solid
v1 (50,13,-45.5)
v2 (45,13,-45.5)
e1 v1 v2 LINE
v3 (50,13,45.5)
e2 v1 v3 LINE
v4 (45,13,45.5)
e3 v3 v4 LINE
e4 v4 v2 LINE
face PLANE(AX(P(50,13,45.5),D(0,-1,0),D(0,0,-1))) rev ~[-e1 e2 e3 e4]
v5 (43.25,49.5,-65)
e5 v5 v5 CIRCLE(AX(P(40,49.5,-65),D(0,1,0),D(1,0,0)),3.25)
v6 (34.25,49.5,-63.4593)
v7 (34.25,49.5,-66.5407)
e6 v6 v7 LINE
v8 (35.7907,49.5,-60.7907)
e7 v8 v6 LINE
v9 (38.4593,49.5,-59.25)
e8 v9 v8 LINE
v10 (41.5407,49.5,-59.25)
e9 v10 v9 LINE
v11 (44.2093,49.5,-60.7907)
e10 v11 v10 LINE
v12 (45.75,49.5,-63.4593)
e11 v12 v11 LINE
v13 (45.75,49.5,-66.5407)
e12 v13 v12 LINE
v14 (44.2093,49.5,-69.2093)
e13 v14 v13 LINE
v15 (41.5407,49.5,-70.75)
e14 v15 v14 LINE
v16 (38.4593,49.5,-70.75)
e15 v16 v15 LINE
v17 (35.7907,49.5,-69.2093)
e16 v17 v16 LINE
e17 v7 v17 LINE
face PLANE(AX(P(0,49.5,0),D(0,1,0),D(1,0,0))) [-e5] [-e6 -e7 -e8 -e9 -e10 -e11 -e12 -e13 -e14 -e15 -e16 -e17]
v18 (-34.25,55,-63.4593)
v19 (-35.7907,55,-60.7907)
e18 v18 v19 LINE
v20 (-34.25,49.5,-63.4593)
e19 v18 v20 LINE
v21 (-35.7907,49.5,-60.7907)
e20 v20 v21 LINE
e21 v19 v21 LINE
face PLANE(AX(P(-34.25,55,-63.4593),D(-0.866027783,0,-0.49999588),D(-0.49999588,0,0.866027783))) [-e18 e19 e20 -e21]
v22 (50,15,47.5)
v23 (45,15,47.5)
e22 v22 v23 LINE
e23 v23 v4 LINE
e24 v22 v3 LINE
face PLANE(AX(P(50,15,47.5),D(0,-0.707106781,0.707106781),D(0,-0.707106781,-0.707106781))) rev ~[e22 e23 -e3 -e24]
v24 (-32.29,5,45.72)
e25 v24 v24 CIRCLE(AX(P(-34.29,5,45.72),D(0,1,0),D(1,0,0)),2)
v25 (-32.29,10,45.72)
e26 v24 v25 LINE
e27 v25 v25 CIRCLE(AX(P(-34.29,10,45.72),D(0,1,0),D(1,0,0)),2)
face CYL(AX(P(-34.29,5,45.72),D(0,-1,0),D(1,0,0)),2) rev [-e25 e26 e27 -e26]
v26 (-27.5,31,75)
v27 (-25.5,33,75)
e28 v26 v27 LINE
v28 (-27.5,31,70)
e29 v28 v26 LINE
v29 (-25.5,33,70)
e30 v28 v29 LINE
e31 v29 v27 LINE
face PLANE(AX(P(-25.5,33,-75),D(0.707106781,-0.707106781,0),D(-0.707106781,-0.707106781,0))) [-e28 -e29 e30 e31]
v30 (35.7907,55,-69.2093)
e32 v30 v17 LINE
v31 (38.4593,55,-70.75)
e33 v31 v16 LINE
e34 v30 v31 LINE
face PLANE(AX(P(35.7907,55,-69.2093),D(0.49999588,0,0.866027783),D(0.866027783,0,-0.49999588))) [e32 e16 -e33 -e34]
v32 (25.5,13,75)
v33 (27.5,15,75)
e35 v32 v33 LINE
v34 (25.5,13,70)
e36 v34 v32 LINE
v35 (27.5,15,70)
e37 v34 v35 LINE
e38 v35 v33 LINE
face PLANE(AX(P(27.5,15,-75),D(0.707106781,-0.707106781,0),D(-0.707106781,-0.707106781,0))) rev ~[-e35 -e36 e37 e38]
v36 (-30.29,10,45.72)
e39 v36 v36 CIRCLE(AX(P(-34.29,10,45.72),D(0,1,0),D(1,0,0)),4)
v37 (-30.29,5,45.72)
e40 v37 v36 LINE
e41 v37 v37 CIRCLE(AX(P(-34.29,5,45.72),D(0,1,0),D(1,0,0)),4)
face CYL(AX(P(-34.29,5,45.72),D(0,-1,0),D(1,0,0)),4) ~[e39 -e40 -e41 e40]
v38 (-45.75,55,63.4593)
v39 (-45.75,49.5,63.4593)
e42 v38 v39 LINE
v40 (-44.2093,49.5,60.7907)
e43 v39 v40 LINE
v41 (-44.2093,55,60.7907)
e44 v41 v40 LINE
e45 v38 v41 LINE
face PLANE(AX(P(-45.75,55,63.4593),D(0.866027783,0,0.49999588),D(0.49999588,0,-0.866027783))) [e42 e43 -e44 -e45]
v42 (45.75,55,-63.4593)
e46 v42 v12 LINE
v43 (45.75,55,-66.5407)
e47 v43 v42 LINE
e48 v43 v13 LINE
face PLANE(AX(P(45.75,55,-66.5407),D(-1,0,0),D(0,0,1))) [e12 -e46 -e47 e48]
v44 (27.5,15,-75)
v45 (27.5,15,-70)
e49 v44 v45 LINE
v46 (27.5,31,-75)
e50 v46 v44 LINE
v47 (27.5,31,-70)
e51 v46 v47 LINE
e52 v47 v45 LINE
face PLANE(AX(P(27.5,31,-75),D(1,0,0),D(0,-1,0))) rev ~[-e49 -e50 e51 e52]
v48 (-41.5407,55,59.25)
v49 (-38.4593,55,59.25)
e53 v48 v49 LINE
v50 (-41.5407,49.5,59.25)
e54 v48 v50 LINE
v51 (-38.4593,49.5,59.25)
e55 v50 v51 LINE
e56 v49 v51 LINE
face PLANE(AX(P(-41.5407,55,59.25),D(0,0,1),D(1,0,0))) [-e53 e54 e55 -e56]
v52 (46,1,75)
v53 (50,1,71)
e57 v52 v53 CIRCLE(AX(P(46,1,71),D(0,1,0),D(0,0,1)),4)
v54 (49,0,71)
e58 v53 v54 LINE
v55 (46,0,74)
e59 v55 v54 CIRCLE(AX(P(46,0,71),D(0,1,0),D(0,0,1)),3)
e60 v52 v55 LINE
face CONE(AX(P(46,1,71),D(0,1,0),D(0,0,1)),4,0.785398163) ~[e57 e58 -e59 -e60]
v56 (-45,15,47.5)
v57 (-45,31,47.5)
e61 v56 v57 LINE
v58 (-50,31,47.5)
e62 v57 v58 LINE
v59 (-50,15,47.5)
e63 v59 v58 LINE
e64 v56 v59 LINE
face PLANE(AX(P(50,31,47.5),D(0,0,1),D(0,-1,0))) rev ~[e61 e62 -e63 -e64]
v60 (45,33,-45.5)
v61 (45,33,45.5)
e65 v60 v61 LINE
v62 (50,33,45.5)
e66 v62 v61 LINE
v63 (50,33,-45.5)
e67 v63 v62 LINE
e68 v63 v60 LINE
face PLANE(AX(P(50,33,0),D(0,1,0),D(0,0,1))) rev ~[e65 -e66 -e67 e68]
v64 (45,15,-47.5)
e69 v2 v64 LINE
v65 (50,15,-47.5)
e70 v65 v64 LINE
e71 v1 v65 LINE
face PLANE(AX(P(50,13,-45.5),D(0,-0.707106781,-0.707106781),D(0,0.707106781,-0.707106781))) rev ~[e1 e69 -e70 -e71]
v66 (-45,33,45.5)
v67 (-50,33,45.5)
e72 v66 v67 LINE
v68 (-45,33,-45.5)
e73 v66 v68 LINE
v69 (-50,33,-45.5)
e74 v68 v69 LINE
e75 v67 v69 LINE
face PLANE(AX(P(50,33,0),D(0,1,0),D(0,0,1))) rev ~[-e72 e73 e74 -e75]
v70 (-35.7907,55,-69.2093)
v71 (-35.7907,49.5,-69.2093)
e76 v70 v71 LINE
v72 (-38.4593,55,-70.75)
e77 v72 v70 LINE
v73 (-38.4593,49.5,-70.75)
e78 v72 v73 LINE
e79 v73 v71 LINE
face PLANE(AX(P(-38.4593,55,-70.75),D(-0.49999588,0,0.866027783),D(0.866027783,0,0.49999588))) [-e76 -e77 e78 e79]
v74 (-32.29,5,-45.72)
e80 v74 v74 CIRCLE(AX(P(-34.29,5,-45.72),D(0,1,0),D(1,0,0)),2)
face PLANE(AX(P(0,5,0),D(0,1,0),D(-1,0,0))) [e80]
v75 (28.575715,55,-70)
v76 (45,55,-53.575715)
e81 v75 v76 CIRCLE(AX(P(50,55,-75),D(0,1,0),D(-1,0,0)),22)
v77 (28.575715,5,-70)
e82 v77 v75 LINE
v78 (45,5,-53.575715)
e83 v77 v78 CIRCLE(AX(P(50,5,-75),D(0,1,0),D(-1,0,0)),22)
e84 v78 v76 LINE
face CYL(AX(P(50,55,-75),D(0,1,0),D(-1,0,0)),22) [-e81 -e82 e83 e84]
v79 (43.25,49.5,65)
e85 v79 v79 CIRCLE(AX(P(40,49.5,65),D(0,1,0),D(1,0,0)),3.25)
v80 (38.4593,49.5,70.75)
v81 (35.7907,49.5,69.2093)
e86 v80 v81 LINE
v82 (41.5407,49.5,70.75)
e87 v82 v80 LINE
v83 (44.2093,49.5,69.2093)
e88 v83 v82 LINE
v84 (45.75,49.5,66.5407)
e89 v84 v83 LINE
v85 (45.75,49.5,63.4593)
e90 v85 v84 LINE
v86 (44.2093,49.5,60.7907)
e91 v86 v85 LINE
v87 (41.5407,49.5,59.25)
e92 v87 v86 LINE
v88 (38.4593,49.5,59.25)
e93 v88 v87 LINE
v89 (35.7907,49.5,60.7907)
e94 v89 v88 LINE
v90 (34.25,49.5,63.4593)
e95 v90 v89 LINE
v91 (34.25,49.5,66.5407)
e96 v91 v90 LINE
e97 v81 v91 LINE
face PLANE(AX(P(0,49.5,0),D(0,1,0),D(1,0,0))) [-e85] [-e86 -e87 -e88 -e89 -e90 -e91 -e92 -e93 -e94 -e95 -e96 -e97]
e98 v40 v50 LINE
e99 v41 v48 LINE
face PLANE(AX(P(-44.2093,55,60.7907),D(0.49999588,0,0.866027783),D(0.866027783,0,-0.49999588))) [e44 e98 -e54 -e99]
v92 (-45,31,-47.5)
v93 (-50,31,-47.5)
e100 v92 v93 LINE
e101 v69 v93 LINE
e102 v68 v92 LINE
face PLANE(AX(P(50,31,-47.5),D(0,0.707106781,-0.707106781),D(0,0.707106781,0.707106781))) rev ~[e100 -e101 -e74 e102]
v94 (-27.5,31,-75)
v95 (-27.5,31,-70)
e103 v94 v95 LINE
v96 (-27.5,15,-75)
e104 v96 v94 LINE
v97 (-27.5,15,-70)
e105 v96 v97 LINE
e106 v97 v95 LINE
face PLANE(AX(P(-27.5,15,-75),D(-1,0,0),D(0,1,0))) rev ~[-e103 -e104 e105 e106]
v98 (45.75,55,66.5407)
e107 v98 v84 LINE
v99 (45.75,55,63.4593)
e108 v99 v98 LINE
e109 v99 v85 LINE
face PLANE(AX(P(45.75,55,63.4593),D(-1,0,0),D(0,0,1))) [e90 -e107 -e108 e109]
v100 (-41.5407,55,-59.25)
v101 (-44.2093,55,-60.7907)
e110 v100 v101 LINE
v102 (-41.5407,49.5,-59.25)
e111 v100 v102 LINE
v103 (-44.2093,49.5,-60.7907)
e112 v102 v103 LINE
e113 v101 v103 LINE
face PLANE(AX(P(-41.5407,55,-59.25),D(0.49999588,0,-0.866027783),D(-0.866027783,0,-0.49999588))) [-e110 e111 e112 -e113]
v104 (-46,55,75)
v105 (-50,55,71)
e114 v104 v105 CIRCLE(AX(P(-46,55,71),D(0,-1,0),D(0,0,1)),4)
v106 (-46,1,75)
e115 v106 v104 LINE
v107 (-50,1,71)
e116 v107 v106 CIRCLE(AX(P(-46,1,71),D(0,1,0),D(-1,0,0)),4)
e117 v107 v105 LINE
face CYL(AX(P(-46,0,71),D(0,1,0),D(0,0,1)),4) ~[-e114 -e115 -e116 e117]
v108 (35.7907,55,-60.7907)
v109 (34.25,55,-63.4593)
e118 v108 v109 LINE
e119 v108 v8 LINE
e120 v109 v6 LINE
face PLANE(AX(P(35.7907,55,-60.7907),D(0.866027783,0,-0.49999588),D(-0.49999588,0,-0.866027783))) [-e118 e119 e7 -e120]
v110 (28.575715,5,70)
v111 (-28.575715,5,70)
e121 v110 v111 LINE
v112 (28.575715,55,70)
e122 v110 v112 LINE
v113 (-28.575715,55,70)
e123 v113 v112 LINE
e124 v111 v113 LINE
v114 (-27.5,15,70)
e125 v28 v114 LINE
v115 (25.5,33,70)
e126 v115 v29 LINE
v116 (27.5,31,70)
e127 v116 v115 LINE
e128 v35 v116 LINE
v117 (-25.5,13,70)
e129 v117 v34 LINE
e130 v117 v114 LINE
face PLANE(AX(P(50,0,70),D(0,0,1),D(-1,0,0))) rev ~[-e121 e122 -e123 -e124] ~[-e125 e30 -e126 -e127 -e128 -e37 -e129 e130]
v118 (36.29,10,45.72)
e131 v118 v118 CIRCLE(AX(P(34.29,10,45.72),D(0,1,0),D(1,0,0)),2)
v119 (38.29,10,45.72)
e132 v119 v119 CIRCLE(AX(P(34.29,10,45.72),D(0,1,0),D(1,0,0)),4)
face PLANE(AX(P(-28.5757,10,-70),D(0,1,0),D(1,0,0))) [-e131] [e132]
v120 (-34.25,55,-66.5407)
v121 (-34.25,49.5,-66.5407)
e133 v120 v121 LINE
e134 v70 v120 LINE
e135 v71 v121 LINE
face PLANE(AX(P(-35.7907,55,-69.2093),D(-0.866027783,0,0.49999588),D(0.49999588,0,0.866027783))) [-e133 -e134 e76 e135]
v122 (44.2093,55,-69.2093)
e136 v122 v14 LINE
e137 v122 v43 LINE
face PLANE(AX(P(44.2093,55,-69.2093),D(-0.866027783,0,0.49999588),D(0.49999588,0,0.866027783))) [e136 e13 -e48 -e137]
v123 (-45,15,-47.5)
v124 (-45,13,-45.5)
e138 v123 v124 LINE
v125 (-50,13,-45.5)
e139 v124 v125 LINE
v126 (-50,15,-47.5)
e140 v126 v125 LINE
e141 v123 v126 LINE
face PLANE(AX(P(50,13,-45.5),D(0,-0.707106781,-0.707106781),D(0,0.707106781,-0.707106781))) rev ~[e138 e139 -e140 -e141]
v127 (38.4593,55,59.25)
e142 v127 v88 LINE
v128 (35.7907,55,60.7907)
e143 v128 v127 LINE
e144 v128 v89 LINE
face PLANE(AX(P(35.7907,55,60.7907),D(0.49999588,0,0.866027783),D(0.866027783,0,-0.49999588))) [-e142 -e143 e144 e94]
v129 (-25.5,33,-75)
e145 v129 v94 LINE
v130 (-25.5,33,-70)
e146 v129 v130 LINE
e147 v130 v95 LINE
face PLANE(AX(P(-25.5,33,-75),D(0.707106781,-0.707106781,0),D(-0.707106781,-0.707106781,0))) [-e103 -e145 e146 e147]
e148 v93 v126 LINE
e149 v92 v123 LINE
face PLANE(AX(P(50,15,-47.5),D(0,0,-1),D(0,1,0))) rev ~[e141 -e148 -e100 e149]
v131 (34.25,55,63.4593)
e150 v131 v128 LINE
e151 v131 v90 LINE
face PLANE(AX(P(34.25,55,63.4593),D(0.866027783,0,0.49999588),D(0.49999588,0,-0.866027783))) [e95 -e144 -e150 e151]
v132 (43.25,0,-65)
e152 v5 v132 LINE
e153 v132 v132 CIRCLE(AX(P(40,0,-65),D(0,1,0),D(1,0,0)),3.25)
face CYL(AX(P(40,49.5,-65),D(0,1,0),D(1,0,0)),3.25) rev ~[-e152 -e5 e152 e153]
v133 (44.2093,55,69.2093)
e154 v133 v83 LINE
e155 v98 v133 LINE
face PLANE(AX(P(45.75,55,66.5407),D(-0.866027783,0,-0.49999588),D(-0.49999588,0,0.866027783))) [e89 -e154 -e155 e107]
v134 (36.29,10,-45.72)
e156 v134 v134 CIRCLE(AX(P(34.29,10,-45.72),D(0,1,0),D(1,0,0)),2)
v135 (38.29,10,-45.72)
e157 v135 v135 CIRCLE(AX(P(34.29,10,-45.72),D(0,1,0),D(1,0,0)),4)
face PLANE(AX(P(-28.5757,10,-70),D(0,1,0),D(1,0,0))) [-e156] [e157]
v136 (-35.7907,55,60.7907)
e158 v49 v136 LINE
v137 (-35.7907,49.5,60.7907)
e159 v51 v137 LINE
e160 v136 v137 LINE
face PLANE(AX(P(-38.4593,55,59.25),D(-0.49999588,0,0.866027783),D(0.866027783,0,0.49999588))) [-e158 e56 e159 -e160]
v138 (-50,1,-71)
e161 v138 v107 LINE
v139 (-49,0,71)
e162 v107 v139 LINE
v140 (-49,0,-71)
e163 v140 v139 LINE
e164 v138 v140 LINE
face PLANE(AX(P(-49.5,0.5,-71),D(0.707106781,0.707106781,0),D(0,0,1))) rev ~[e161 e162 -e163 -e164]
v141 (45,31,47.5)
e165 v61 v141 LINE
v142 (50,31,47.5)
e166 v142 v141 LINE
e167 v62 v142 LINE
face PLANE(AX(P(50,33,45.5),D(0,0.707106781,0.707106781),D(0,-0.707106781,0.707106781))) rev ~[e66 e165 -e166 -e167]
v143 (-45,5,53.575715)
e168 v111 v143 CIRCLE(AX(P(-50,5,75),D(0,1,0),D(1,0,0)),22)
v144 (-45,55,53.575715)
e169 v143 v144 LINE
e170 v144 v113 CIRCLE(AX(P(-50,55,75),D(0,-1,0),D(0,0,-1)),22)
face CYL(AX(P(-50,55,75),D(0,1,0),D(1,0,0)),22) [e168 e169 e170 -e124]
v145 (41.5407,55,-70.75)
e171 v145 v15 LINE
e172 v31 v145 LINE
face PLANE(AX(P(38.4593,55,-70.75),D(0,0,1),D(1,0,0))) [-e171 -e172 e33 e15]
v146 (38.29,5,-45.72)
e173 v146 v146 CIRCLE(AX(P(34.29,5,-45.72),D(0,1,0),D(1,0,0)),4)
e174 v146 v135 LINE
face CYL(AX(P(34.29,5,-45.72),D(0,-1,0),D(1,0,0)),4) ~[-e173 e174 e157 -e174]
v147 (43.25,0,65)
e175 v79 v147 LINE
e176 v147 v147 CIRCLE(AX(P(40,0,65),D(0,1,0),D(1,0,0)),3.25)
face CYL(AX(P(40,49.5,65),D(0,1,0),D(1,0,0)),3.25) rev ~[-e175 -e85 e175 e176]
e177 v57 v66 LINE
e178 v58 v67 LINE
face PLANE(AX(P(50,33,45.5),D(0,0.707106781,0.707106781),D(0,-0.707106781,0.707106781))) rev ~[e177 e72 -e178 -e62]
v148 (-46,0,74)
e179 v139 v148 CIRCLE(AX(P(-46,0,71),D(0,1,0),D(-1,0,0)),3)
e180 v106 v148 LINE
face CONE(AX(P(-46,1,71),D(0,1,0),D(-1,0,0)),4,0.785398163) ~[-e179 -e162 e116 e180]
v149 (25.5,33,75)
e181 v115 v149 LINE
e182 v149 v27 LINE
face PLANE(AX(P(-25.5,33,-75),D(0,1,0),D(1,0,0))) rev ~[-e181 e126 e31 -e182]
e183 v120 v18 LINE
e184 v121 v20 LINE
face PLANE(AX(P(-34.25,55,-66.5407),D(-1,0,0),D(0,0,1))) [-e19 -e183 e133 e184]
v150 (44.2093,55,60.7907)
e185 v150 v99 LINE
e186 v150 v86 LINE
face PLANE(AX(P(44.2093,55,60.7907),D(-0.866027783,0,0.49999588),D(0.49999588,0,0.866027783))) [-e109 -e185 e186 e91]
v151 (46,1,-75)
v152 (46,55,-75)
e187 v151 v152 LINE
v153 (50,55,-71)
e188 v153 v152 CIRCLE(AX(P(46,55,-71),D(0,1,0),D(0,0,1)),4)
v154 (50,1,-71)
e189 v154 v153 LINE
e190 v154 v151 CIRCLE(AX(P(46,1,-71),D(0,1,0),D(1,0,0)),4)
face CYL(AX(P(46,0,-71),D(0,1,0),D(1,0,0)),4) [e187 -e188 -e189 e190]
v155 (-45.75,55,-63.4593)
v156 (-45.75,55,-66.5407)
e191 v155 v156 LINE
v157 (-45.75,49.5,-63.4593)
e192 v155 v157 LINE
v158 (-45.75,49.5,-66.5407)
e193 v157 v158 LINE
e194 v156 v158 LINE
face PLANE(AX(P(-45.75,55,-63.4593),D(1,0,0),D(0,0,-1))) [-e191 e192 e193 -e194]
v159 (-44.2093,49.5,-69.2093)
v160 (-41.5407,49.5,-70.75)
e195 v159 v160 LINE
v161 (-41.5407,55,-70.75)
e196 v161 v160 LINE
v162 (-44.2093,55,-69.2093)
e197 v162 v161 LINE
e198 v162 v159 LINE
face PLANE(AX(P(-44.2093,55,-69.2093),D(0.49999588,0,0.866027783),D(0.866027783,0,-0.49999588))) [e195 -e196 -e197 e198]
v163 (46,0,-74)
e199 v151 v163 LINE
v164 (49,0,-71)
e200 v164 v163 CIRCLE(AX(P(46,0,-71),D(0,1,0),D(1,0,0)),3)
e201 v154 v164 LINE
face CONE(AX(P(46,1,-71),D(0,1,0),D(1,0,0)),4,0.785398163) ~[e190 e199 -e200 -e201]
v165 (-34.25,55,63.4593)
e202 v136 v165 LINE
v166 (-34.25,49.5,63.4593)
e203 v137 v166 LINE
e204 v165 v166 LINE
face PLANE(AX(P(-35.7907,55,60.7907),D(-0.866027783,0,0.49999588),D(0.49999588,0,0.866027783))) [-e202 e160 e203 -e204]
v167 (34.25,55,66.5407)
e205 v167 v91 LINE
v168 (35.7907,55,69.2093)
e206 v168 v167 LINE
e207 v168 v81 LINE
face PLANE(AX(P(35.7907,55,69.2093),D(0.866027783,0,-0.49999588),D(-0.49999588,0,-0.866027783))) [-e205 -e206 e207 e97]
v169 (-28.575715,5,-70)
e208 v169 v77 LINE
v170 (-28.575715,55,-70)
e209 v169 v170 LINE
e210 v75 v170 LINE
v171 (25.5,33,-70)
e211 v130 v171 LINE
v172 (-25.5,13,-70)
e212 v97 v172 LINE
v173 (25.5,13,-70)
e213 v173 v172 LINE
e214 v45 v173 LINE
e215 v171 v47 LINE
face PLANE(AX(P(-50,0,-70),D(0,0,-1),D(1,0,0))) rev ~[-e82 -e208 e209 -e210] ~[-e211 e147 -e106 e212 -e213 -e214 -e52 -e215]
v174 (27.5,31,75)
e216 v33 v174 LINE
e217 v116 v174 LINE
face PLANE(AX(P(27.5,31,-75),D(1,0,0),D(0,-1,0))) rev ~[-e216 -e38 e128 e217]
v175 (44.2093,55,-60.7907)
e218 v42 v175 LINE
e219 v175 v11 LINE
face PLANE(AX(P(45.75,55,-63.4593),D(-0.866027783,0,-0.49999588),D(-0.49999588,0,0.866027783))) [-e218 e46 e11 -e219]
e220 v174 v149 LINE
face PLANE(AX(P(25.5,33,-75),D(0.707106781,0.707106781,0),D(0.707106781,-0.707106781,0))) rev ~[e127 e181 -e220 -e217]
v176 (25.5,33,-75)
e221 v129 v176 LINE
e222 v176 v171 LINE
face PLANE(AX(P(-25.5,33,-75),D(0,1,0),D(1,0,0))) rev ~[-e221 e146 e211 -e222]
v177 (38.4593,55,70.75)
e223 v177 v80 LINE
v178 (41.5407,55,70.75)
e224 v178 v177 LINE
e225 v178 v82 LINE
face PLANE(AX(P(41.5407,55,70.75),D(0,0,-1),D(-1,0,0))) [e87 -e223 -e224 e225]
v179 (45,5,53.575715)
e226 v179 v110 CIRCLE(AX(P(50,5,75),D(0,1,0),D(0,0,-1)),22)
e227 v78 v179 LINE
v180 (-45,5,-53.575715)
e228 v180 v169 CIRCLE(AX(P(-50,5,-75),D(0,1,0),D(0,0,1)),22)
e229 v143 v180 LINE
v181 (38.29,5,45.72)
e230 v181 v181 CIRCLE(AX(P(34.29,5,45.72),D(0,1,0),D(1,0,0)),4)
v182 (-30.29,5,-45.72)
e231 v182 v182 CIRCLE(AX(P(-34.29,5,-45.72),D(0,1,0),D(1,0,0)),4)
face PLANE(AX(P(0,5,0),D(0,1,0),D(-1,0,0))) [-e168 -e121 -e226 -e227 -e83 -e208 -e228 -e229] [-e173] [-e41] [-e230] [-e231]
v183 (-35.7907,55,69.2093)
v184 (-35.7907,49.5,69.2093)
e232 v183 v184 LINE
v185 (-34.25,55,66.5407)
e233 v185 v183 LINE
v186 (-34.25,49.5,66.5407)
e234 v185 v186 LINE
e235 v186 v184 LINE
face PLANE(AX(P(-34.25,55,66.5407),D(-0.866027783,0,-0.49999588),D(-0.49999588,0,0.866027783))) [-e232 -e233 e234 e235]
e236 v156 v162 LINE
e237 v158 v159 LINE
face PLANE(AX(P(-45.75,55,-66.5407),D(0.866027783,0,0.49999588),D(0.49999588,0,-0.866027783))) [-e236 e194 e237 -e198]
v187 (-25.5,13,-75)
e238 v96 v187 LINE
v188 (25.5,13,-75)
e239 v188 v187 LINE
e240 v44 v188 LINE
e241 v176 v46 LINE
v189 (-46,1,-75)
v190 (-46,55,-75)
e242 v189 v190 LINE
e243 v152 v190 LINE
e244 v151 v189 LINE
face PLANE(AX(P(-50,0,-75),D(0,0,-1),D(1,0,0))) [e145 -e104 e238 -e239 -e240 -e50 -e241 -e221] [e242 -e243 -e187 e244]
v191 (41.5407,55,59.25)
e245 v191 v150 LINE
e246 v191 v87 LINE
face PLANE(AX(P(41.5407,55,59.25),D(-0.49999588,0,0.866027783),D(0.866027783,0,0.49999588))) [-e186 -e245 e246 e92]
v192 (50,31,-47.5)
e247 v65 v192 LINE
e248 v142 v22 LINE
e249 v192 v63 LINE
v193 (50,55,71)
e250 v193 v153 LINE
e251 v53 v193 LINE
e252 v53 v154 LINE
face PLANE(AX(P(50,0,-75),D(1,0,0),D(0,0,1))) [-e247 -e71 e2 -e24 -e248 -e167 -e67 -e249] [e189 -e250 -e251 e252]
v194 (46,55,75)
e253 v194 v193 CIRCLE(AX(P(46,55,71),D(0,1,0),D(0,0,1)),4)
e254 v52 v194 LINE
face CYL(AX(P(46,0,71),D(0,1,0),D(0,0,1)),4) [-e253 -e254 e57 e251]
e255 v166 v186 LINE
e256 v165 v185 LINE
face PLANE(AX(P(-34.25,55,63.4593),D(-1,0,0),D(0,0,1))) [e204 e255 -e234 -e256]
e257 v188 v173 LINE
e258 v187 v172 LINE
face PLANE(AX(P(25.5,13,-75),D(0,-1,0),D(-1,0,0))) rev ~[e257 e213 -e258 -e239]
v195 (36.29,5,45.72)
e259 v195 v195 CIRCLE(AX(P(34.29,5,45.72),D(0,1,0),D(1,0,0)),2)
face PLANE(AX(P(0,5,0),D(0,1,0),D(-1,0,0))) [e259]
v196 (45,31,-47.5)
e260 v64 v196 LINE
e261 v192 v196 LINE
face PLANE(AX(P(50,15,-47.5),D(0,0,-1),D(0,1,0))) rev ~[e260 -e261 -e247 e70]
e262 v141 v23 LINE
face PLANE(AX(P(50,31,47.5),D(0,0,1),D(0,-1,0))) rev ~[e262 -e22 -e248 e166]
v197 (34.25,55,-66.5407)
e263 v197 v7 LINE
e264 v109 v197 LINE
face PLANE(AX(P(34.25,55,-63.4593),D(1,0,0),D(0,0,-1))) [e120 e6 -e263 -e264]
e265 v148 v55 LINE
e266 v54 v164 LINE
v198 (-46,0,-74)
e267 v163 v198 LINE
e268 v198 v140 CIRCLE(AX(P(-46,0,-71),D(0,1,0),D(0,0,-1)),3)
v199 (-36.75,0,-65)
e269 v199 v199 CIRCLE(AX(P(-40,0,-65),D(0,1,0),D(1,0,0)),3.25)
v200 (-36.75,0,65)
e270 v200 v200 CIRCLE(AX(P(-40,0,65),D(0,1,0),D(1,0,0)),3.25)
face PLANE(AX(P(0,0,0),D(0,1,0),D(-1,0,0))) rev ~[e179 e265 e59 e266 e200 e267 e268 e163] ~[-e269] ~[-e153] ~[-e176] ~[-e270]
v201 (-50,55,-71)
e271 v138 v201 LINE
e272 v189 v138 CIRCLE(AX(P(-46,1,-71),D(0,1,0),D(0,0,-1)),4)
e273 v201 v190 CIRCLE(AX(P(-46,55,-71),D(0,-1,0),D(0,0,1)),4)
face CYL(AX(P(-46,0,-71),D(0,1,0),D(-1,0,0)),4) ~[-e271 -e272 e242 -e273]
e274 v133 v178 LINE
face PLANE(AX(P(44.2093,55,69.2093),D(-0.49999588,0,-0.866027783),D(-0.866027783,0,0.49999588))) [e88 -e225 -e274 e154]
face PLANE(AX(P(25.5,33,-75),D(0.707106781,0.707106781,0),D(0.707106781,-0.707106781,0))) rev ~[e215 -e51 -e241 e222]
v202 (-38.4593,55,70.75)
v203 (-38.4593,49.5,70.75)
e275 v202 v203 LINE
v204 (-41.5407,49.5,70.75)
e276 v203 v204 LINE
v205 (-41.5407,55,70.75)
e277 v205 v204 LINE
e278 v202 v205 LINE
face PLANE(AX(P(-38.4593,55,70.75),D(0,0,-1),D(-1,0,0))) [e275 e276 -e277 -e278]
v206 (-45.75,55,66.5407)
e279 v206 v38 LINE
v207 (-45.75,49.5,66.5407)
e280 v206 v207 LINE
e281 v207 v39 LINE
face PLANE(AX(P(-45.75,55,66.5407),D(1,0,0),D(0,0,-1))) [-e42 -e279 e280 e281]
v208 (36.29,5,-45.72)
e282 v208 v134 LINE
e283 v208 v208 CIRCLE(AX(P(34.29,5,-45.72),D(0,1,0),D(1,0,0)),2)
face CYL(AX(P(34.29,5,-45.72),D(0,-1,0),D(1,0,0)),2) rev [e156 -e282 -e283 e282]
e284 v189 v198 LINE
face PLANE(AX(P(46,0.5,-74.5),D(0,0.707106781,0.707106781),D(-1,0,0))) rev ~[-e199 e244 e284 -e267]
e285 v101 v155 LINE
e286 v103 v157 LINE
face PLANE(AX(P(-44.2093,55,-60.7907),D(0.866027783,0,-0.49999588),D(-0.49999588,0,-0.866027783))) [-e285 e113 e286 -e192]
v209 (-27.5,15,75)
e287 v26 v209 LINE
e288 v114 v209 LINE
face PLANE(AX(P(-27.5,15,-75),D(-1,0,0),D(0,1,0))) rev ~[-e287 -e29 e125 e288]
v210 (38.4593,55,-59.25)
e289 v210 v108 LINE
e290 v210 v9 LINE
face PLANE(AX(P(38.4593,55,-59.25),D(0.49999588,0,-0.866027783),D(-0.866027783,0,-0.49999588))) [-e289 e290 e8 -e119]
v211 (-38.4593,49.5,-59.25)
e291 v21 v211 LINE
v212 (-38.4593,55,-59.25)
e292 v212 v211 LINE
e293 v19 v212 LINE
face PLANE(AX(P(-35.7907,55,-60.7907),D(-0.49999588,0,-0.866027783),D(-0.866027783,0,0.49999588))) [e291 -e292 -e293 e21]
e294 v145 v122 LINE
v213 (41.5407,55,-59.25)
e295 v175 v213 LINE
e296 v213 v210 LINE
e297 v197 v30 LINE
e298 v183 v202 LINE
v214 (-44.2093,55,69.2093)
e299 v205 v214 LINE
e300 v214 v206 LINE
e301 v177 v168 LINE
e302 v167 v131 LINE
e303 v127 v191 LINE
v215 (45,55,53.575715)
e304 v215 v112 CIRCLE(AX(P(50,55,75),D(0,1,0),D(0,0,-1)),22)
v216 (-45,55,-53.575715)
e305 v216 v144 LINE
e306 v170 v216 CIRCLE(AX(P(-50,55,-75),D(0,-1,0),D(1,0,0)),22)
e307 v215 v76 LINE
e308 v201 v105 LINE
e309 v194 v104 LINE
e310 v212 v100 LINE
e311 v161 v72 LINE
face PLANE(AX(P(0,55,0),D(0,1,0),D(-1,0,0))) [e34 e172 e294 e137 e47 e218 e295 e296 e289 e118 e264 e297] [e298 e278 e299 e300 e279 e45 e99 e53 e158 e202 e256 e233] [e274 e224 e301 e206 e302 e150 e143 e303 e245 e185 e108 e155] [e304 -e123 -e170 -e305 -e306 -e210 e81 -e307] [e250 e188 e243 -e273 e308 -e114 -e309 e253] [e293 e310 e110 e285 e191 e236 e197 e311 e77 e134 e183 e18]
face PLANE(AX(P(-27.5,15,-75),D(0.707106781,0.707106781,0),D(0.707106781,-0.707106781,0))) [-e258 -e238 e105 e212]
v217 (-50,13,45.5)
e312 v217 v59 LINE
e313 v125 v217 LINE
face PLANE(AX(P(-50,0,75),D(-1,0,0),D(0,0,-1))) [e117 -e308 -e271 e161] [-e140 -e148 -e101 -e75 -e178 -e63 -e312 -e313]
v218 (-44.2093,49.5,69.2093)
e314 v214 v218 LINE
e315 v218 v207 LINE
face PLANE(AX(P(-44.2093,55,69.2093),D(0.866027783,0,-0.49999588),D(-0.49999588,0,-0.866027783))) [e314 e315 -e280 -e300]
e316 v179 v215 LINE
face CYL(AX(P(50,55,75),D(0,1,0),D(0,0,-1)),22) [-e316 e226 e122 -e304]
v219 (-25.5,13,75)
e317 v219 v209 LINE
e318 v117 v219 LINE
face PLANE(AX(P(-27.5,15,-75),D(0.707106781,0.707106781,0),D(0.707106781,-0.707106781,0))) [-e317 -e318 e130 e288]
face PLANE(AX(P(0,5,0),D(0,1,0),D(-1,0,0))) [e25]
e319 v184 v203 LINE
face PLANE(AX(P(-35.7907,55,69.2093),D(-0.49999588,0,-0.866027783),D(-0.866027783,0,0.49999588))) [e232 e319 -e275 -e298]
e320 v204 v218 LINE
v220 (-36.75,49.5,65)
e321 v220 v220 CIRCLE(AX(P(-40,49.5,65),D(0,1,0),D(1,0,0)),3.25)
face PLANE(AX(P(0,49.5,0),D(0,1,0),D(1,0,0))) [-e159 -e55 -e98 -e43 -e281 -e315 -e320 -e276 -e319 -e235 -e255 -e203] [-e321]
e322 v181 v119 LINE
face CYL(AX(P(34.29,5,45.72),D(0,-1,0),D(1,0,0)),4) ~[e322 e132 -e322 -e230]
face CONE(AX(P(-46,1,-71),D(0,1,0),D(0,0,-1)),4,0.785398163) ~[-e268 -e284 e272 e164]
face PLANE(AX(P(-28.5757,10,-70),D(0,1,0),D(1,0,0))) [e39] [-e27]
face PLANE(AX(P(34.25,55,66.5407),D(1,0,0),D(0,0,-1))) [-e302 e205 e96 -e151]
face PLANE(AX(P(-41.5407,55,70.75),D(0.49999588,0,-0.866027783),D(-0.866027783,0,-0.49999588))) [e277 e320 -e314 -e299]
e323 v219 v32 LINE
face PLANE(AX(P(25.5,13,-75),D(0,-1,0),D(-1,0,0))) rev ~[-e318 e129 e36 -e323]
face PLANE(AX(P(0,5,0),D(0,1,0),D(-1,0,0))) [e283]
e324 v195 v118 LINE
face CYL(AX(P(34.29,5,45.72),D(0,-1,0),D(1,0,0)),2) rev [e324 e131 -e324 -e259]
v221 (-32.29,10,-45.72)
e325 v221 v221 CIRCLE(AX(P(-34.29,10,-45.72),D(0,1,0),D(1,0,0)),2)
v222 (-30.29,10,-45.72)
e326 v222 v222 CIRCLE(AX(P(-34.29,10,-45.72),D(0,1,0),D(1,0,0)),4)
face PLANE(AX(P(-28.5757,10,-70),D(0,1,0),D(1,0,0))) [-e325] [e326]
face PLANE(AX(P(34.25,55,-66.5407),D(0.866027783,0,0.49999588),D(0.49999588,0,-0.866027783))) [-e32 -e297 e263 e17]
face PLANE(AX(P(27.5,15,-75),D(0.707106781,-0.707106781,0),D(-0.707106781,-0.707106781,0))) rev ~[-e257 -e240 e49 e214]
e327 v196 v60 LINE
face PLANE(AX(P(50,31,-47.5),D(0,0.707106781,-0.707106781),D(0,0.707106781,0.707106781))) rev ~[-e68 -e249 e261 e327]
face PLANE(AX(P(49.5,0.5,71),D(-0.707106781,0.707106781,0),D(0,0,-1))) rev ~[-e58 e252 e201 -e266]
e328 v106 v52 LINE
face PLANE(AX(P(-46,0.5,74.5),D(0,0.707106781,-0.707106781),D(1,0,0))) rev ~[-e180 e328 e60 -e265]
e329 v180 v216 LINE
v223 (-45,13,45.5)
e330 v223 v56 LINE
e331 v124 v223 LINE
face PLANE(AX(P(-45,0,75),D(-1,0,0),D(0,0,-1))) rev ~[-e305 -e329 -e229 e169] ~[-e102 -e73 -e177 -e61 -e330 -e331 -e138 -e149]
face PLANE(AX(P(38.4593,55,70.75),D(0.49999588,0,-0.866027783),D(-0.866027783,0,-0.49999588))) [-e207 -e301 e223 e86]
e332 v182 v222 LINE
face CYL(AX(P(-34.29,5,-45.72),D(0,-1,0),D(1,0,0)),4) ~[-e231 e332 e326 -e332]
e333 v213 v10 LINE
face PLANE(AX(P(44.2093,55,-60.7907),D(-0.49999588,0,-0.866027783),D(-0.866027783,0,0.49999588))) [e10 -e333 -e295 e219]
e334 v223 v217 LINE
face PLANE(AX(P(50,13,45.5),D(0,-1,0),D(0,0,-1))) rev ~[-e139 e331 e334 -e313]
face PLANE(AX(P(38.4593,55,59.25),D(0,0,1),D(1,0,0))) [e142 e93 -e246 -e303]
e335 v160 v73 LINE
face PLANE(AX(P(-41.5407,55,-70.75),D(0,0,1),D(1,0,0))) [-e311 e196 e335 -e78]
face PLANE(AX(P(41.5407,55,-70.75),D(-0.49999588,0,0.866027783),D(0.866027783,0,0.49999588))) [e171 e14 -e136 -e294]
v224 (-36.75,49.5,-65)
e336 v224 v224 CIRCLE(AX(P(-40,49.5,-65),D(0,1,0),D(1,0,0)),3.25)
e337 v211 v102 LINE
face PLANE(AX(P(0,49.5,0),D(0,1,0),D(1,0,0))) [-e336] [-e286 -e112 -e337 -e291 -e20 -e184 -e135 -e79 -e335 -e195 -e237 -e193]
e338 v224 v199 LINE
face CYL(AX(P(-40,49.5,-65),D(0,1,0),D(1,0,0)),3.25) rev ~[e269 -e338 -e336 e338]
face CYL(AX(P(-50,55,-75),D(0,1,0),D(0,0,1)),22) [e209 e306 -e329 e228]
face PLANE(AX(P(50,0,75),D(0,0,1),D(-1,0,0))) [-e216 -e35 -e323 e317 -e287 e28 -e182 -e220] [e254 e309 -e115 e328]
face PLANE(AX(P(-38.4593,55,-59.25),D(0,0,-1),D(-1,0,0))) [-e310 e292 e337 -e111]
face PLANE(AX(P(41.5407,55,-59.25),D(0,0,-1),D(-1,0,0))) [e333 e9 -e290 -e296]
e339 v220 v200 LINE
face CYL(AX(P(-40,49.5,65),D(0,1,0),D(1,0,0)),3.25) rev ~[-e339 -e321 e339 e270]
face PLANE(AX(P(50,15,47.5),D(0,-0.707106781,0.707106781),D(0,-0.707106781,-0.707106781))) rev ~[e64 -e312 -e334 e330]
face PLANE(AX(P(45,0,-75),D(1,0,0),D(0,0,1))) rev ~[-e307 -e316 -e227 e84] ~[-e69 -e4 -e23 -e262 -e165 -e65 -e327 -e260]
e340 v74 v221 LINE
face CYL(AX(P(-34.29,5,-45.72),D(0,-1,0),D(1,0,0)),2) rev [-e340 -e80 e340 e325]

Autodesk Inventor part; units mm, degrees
ref_plane "YZ Plane" through (0, 0, 0) normal (1, 0, 0) x (0, 1, 0)
ref_plane "XZ Plane" through (0, 0, 0) normal (0, 1, 0) x (-1, 0, 0)
ref_plane "XY Plane" through (0, 0, 0) normal (0, 0, 1) x (1, 0, 0)
sketch "Sketch1" plane through (0, 0, 0) normal (0, 1, 0) x (-1, 0, 0)
  line L0 (-50, 75) -> (50, 75)
  line L1 (50, 75) -> (50, -75)
  line L2 (50, -75) -> (-50, -75)
  line L3 (-50, -75) -> (-50, 75)
  line L4 (-50, 75) -> (50, -75) construction
  line L5 (50, 75) -> (-50, -75) construction
  point P0 (0, 0)
  dimension "d0" = 150
  dimension "d1" = 100
extrude "Extrusion1" add sketch "Sketch1" along normal blind 55
shell "Shell1" thickness 5 removed faces 1 at (16.6667, 55, 25)
sketch "Sketch2" plane through (0, 55, 0) normal (0, 1, 0) x (1, 0, 0)
  line L0 (-45, -70) -> (-45, 70) projected
  line L1 (-50, 75) -> (-50, -75) projected
  arc A0 (-28, -75) -> (-50, -53) centre (-50, -75) ccw
  line L2 (-50, 75) -> (-50, -75) projected
  line L3 (-50, -53) -> (-50, -75)
  line L4 (-50, -75) -> (-28, -75)
  line L5 (-50, -75) -> (50, -75) projected
  line L6 (0, -75) -> (0, 75)
  line L7 (50, 75) -> (-50, 75) projected
  line L8 (-50, 0) -> (45, 0)
  arc A1 (-50, 53) -> (-28, 75) centre (-50, 75) ccw
  line L9 (-50, 53) -> (-50, 75)
  line L10 (-50, 75) -> (-28, 75)
  line L11 (0, 75) -> (0, -75)
  arc A2 (50, -53) -> (28, -75) centre (50, -75) ccw
  line L12 (50, -53) -> (50, -75)
  line L13 (50, -75) -> (28, -75)
  arc A3 (28, 75) -> (50, 53) centre (50, 75) ccw
  line L14 (50, 53) -> (50, 75)
  line L15 (50, 75) -> (28, 75)
  point P0 (0, 0)
  point P1 (45, -70)
  point P2 (45, 70)
  point P3 (28, 75)
  point P4 (28, -75)
  point P5 (-28, 75)
  point P6 (-50, 53)
  dimension "d6" = 22
extrude "Extrusion2" add sketch "Sketch2" against normal blind 55 contours A0 L4 L1 | L7 L14 A3 | A2 L12 L5 | A1 L1 L7
sketch "Sketch3" plane through (-28.5757, 5, -70) normal (0, 1, 0) x (1, 0, 0)
  line L0 (62.8657, -115.72) -> (-5.7143, -115.72) construction
  line L1 (-5.7143, -115.72) -> (-5.7143, -24.28) construction
  line L2 (-5.7143, -24.28) -> (62.8657, -24.28) construction
  line L3 (62.8657, -24.28) -> (62.8657, -115.72) construction
  line L4 (62.8657, -115.72) -> (-5.7143, -24.28) construction
  line L5 (-5.7143, -115.72) -> (62.8657, -24.28) construction
  circle A0 centre (-5.7143, -115.72) radius 4
  circle A1 centre (-5.7143, -115.72) radius 2
  circle A2 centre (-5.7143, -24.28) radius 4
  circle A3 centre (-5.7143, -24.28) radius 2
  circle A4 centre (62.8657, -24.28) radius 4
  circle A5 centre (62.8657, -24.28) radius 2
  circle A6 centre (62.8657, -115.72) radius 4
  circle A7 centre (62.8657, -115.72) radius 2
  circle A8 centre (1.5679, -103.22) radius 4
  circle A9 centre (1.5679, -103.22) radius 2
  point P0 (28.5757, -70)
  dimension "d12" = 91.44
  dimension "d13" = 68.58
  dimension "d14" = 8
  dimension "d15" = 4
  dimension "d16" = 8
  dimension "d17" = 4
  dimension "d18" = 8
  dimension "d19" = 4
  dimension "d20" = 8
  dimension "d21" = 4
  dimension "d22" = 8
  dimension "d23" = 4
extrude "Extrusion3" add sketch "Sketch3" along normal blind 5 contours A0 | A2 | A4 | A6
sketch "Sketch6" plane through (50, 0, -75) normal (0, 0, -1) x (-1, 0, 0)
  line L0 (0, 0) -> (100, 0) projected
  line L1 (78.5757, 55) -> (78.5757, 5) projected
  line L2 (21.4243, 5) -> (21.4243, 55) projected
  line L3 (24.5, 13) -> (75.5, 13)
  line L4 (77.5, 15) -> (77.5, 31)
  line L5 (75.5, 33) -> (24.5, 33)
  line L6 (22.5, 31) -> (22.5, 15)
  line L7 (22.5, 13) -> (77.5, 33) construction
  line L8 (77.5, 13) -> (22.5, 33) construction
  line L9 (21.4243, 55) -> (78.5757, 55) projected
  line L10 (50, 55) -> (50, 0) construction
  line L11 (24.5, 33) -> (22.5, 31)
  line L12 (75.5, 33) -> (77.5, 31)
  line L13 (22.5, 15) -> (24.5, 13)
  line L14 (77.5, 15) -> (75.5, 13)
  point P0 (50, 23)
  dimension "d47" = 55
  dimension "d48" = 20
  dimension "d49" = 23
  dimension "d58" = 2
  dimension "d59" = 2
  dimension "d60" = 2
  dimension "d61" = 2
  dimension "d62" = 2
  dimension "d63" = 2
  dimension "d64" = 2
  dimension "d65" = 2
extrude "Extrusion4" cut sketch "Sketch6" against normal through all
sketch "Sketch7" plane through (50, 0, 75) normal (1, 0, 0) x (0, 0, -1)
  line L0 (75, 0) -> (75, 54.6826)
  line L1 (29.5, 13) -> (120.5, 13)
  line L2 (122.5, 15) -> (122.5, 31)
  line L3 (120.5, 33) -> (29.5, 33)
  line L4 (27.5, 31) -> (27.5, 15)
  line L5 (27.5, 13) -> (122.5, 33) construction
  line L6 (122.5, 13) -> (27.5, 33) construction
  line L7 (0, 0) -> (150, 0) projected
  line L8 (29.5, 33) -> (27.5, 31)
  line L9 (27.5, 15) -> (29.5, 13)
  line L10 (120.5, 13) -> (122.5, 15)
  line L11 (122.5, 31) -> (120.5, 33)
  point P0 (75, 23)
  dimension "d76" = 95
  dimension "d77" = 20
  dimension "d78" = 23
  dimension "d79" = 2
  dimension "d80" = 2
  dimension "d81" = 2
  dimension "d82" = 2
  dimension "d83" = 2
  dimension "d84" = 2
  dimension "d85" = 2
  dimension "d86" = 2
extrude "Extrusion5" cut sketch "Sketch7" against normal through all
sketch "Sketch8" plane through (0, 55, 0) normal (0, 1, 0) x (1, 0, 0)
  line L0 (-44.2093, -69.2093) -> (-45.75, -66.5407)
  line L1 (-45.75, -66.5407) -> (-45.75, -63.4593)
  line L2 (-45.75, -63.4593) -> (-44.2093, -60.7907)
  line L3 (-44.2093, -60.7907) -> (-41.5407, -59.25)
  line L4 (-41.5407, -59.25) -> (-38.4593, -59.25)
  line L5 (-38.4593, -59.25) -> (-35.7907, -60.7907)
  line L6 (-35.7907, -60.7907) -> (-34.25, -63.4593)
  line L7 (-34.25, -63.4593) -> (-34.25, -66.5407)
  line L8 (-34.25, -66.5407) -> (-35.7907, -69.2093)
  line L9 (-35.7907, -69.2093) -> (-38.4593, -70.75)
  line L10 (-38.4593, -70.75) -> (-41.5407, -70.75)
  line L11 (-41.5407, -70.75) -> (-44.2093, -69.2093)
  line L12 (-50, 75) -> (-50, -75) projected
  line L13 (-50, -75) -> (50, -75) projected
  line L14 (-41.5407, 70.75) -> (-38.4593, 70.75)
  line L15 (-38.4593, 70.75) -> (-35.7907, 69.2093)
  line L16 (-44.2093, 69.2093) -> (-41.5407, 70.75)
  line L17 (-35.7907, 69.2093) -> (-34.25, 66.5407)
  line L18 (-45.75, 63.4593) -> (-45.75, 66.5407)
  line L19 (-34.25, 66.5407) -> (-34.25, 63.4593)
  line L20 (-34.25, 63.4593) -> (-35.7907, 60.7907)
  line L21 (-44.2093, 60.7907) -> (-45.75, 63.4593)
  line L22 (-35.7907, 60.7907) -> (-38.4593, 59.25)
  line L23 (-38.4593, 59.25) -> (-41.5407, 59.25)
  line L24 (-41.5407, 59.25) -> (-44.2093, 60.7907)
  line L25 (-45.75, 66.5407) -> (-44.2093, 69.2093)
  line L26 (38.4593, -59.25) -> (41.5407, -59.25)
  line L27 (41.5407, -59.25) -> (44.2093, -60.7907)
  line L28 (35.7907, -60.7907) -> (38.4593, -59.25)
  line L29 (44.2093, -60.7907) -> (45.75, -63.4593)
  line L30 (34.25, -66.5407) -> (34.25, -63.4593)
  line L31 (45.75, -63.4593) -> (45.75, -66.5407)
  line L32 (45.75, -66.5407) -> (44.2093, -69.2093)
  line L33 (35.7907, -69.2093) -> (34.25, -66.5407)
  line L34 (44.2093, -69.2093) -> (41.5407, -70.75)
  line L35 (41.5407, -70.75) -> (38.4593, -70.75)
  line L36 (38.4593, -70.75) -> (35.7907, -69.2093)
  line L37 (34.25, -63.4593) -> (35.7907, -60.7907)
  line L38 (38.4593, 70.75) -> (41.5407, 70.75)
  line L39 (41.5407, 70.75) -> (44.2093, 69.2093)
  line L40 (35.7907, 69.2093) -> (38.4593, 70.75)
  line L41 (44.2093, 69.2093) -> (45.75, 66.5407)
  line L42 (34.25, 63.4593) -> (34.25, 66.5407)
  line L43 (45.75, 66.5407) -> (45.75, 63.4593)
  line L44 (45.75, 63.4593) -> (44.2093, 60.7907)
  line L45 (35.7907, 60.7907) -> (34.25, 63.4593)
  line L46 (44.2093, 60.7907) -> (41.5407, 59.25)
  line L47 (41.5407, 59.25) -> (38.4593, 59.25)
  line L48 (38.4593, 59.25) -> (35.7907, 60.7907)
  line L49 (34.25, 66.5407) -> (35.7907, 69.2093)
  point P0 (0, 0)
  point P1 (-40, -65)
  point P2 (-50, 71)
  point P3 (-50, -71)
  point P4 (-46, -75)
  point P5 (46, -75)
  point P6 (-40, 65)
  point P7 (40, -65)
  point P8 (40, 65)
  dimension "d103" = 11.5
  dimension "d104" = 10
  dimension "d105" = 10
  dimension "d108" = 130
  dimension "d111" = 80
extrude "Extrusion6" cut sketch "Sketch8" against normal blind 5.5
sketch "Sketch9" plane through (0, 49.5, 0) normal (0, 1, 0) x (1, 0, 0)
  circle A0 centre (-40, -65) radius 3.25
  line L0 (-50, 75) -> (-50, -75) projected
  line L1 (-50, -75) -> (50, -75) projected
  circle A1 centre (-40, 65) radius 3.25
  circle A2 centre (40, -65) radius 3.25
  circle A3 centre (40, 65) radius 3.25
  point P0 (0, 0)
  point P1 (-50, 71)
  point P2 (-50, -71)
  point P3 (-46, -75)
  point P4 (46, -75)
  dimension "d116" = 6.5
  dimension "d117" = 10
  dimension "d118" = 10
  dimension "d121" = 130
  dimension "d124" = 80
extrude "Extrusion7" cut sketch "Sketch9" against normal through all
fillet "Fillet1" radius 4 4 edges at (50, 27.5, 75) (-50, 27.5, 75) (50, 27.5, -75) (-50, 27.5, -75)
chamfer "Chamfer3" distance 1 angle 45 8 edges at (0, 0, 75) (48.8284, 0, 73.8284) (50, 0, 0) (48.8284, 0, -73.8284) (0, 0, -75) (-48.8284, 0, -73.8284) (-50, 0, 0) (-48.8284, 0, 73.8284)
equation "\"d59\" = d58"
equation "\"d60\" = d58"
equation "\"d61\" = d60"
equation "\"d62\" = d58"
equation "\"d63\" = d62"
equation "\"d64\" = d58"
equation "\"d65\" = d64"
equation "\"d80\" = d79"
equation "\"d81\" = d79"
equation "\"d82\" = d81"
equation "\"d83\" = d79"
equation "\"d84\" = d83"
equation "\"d85\" = d79"
equation "\"d86\" = d85"
properties part number "PCB_Case"
